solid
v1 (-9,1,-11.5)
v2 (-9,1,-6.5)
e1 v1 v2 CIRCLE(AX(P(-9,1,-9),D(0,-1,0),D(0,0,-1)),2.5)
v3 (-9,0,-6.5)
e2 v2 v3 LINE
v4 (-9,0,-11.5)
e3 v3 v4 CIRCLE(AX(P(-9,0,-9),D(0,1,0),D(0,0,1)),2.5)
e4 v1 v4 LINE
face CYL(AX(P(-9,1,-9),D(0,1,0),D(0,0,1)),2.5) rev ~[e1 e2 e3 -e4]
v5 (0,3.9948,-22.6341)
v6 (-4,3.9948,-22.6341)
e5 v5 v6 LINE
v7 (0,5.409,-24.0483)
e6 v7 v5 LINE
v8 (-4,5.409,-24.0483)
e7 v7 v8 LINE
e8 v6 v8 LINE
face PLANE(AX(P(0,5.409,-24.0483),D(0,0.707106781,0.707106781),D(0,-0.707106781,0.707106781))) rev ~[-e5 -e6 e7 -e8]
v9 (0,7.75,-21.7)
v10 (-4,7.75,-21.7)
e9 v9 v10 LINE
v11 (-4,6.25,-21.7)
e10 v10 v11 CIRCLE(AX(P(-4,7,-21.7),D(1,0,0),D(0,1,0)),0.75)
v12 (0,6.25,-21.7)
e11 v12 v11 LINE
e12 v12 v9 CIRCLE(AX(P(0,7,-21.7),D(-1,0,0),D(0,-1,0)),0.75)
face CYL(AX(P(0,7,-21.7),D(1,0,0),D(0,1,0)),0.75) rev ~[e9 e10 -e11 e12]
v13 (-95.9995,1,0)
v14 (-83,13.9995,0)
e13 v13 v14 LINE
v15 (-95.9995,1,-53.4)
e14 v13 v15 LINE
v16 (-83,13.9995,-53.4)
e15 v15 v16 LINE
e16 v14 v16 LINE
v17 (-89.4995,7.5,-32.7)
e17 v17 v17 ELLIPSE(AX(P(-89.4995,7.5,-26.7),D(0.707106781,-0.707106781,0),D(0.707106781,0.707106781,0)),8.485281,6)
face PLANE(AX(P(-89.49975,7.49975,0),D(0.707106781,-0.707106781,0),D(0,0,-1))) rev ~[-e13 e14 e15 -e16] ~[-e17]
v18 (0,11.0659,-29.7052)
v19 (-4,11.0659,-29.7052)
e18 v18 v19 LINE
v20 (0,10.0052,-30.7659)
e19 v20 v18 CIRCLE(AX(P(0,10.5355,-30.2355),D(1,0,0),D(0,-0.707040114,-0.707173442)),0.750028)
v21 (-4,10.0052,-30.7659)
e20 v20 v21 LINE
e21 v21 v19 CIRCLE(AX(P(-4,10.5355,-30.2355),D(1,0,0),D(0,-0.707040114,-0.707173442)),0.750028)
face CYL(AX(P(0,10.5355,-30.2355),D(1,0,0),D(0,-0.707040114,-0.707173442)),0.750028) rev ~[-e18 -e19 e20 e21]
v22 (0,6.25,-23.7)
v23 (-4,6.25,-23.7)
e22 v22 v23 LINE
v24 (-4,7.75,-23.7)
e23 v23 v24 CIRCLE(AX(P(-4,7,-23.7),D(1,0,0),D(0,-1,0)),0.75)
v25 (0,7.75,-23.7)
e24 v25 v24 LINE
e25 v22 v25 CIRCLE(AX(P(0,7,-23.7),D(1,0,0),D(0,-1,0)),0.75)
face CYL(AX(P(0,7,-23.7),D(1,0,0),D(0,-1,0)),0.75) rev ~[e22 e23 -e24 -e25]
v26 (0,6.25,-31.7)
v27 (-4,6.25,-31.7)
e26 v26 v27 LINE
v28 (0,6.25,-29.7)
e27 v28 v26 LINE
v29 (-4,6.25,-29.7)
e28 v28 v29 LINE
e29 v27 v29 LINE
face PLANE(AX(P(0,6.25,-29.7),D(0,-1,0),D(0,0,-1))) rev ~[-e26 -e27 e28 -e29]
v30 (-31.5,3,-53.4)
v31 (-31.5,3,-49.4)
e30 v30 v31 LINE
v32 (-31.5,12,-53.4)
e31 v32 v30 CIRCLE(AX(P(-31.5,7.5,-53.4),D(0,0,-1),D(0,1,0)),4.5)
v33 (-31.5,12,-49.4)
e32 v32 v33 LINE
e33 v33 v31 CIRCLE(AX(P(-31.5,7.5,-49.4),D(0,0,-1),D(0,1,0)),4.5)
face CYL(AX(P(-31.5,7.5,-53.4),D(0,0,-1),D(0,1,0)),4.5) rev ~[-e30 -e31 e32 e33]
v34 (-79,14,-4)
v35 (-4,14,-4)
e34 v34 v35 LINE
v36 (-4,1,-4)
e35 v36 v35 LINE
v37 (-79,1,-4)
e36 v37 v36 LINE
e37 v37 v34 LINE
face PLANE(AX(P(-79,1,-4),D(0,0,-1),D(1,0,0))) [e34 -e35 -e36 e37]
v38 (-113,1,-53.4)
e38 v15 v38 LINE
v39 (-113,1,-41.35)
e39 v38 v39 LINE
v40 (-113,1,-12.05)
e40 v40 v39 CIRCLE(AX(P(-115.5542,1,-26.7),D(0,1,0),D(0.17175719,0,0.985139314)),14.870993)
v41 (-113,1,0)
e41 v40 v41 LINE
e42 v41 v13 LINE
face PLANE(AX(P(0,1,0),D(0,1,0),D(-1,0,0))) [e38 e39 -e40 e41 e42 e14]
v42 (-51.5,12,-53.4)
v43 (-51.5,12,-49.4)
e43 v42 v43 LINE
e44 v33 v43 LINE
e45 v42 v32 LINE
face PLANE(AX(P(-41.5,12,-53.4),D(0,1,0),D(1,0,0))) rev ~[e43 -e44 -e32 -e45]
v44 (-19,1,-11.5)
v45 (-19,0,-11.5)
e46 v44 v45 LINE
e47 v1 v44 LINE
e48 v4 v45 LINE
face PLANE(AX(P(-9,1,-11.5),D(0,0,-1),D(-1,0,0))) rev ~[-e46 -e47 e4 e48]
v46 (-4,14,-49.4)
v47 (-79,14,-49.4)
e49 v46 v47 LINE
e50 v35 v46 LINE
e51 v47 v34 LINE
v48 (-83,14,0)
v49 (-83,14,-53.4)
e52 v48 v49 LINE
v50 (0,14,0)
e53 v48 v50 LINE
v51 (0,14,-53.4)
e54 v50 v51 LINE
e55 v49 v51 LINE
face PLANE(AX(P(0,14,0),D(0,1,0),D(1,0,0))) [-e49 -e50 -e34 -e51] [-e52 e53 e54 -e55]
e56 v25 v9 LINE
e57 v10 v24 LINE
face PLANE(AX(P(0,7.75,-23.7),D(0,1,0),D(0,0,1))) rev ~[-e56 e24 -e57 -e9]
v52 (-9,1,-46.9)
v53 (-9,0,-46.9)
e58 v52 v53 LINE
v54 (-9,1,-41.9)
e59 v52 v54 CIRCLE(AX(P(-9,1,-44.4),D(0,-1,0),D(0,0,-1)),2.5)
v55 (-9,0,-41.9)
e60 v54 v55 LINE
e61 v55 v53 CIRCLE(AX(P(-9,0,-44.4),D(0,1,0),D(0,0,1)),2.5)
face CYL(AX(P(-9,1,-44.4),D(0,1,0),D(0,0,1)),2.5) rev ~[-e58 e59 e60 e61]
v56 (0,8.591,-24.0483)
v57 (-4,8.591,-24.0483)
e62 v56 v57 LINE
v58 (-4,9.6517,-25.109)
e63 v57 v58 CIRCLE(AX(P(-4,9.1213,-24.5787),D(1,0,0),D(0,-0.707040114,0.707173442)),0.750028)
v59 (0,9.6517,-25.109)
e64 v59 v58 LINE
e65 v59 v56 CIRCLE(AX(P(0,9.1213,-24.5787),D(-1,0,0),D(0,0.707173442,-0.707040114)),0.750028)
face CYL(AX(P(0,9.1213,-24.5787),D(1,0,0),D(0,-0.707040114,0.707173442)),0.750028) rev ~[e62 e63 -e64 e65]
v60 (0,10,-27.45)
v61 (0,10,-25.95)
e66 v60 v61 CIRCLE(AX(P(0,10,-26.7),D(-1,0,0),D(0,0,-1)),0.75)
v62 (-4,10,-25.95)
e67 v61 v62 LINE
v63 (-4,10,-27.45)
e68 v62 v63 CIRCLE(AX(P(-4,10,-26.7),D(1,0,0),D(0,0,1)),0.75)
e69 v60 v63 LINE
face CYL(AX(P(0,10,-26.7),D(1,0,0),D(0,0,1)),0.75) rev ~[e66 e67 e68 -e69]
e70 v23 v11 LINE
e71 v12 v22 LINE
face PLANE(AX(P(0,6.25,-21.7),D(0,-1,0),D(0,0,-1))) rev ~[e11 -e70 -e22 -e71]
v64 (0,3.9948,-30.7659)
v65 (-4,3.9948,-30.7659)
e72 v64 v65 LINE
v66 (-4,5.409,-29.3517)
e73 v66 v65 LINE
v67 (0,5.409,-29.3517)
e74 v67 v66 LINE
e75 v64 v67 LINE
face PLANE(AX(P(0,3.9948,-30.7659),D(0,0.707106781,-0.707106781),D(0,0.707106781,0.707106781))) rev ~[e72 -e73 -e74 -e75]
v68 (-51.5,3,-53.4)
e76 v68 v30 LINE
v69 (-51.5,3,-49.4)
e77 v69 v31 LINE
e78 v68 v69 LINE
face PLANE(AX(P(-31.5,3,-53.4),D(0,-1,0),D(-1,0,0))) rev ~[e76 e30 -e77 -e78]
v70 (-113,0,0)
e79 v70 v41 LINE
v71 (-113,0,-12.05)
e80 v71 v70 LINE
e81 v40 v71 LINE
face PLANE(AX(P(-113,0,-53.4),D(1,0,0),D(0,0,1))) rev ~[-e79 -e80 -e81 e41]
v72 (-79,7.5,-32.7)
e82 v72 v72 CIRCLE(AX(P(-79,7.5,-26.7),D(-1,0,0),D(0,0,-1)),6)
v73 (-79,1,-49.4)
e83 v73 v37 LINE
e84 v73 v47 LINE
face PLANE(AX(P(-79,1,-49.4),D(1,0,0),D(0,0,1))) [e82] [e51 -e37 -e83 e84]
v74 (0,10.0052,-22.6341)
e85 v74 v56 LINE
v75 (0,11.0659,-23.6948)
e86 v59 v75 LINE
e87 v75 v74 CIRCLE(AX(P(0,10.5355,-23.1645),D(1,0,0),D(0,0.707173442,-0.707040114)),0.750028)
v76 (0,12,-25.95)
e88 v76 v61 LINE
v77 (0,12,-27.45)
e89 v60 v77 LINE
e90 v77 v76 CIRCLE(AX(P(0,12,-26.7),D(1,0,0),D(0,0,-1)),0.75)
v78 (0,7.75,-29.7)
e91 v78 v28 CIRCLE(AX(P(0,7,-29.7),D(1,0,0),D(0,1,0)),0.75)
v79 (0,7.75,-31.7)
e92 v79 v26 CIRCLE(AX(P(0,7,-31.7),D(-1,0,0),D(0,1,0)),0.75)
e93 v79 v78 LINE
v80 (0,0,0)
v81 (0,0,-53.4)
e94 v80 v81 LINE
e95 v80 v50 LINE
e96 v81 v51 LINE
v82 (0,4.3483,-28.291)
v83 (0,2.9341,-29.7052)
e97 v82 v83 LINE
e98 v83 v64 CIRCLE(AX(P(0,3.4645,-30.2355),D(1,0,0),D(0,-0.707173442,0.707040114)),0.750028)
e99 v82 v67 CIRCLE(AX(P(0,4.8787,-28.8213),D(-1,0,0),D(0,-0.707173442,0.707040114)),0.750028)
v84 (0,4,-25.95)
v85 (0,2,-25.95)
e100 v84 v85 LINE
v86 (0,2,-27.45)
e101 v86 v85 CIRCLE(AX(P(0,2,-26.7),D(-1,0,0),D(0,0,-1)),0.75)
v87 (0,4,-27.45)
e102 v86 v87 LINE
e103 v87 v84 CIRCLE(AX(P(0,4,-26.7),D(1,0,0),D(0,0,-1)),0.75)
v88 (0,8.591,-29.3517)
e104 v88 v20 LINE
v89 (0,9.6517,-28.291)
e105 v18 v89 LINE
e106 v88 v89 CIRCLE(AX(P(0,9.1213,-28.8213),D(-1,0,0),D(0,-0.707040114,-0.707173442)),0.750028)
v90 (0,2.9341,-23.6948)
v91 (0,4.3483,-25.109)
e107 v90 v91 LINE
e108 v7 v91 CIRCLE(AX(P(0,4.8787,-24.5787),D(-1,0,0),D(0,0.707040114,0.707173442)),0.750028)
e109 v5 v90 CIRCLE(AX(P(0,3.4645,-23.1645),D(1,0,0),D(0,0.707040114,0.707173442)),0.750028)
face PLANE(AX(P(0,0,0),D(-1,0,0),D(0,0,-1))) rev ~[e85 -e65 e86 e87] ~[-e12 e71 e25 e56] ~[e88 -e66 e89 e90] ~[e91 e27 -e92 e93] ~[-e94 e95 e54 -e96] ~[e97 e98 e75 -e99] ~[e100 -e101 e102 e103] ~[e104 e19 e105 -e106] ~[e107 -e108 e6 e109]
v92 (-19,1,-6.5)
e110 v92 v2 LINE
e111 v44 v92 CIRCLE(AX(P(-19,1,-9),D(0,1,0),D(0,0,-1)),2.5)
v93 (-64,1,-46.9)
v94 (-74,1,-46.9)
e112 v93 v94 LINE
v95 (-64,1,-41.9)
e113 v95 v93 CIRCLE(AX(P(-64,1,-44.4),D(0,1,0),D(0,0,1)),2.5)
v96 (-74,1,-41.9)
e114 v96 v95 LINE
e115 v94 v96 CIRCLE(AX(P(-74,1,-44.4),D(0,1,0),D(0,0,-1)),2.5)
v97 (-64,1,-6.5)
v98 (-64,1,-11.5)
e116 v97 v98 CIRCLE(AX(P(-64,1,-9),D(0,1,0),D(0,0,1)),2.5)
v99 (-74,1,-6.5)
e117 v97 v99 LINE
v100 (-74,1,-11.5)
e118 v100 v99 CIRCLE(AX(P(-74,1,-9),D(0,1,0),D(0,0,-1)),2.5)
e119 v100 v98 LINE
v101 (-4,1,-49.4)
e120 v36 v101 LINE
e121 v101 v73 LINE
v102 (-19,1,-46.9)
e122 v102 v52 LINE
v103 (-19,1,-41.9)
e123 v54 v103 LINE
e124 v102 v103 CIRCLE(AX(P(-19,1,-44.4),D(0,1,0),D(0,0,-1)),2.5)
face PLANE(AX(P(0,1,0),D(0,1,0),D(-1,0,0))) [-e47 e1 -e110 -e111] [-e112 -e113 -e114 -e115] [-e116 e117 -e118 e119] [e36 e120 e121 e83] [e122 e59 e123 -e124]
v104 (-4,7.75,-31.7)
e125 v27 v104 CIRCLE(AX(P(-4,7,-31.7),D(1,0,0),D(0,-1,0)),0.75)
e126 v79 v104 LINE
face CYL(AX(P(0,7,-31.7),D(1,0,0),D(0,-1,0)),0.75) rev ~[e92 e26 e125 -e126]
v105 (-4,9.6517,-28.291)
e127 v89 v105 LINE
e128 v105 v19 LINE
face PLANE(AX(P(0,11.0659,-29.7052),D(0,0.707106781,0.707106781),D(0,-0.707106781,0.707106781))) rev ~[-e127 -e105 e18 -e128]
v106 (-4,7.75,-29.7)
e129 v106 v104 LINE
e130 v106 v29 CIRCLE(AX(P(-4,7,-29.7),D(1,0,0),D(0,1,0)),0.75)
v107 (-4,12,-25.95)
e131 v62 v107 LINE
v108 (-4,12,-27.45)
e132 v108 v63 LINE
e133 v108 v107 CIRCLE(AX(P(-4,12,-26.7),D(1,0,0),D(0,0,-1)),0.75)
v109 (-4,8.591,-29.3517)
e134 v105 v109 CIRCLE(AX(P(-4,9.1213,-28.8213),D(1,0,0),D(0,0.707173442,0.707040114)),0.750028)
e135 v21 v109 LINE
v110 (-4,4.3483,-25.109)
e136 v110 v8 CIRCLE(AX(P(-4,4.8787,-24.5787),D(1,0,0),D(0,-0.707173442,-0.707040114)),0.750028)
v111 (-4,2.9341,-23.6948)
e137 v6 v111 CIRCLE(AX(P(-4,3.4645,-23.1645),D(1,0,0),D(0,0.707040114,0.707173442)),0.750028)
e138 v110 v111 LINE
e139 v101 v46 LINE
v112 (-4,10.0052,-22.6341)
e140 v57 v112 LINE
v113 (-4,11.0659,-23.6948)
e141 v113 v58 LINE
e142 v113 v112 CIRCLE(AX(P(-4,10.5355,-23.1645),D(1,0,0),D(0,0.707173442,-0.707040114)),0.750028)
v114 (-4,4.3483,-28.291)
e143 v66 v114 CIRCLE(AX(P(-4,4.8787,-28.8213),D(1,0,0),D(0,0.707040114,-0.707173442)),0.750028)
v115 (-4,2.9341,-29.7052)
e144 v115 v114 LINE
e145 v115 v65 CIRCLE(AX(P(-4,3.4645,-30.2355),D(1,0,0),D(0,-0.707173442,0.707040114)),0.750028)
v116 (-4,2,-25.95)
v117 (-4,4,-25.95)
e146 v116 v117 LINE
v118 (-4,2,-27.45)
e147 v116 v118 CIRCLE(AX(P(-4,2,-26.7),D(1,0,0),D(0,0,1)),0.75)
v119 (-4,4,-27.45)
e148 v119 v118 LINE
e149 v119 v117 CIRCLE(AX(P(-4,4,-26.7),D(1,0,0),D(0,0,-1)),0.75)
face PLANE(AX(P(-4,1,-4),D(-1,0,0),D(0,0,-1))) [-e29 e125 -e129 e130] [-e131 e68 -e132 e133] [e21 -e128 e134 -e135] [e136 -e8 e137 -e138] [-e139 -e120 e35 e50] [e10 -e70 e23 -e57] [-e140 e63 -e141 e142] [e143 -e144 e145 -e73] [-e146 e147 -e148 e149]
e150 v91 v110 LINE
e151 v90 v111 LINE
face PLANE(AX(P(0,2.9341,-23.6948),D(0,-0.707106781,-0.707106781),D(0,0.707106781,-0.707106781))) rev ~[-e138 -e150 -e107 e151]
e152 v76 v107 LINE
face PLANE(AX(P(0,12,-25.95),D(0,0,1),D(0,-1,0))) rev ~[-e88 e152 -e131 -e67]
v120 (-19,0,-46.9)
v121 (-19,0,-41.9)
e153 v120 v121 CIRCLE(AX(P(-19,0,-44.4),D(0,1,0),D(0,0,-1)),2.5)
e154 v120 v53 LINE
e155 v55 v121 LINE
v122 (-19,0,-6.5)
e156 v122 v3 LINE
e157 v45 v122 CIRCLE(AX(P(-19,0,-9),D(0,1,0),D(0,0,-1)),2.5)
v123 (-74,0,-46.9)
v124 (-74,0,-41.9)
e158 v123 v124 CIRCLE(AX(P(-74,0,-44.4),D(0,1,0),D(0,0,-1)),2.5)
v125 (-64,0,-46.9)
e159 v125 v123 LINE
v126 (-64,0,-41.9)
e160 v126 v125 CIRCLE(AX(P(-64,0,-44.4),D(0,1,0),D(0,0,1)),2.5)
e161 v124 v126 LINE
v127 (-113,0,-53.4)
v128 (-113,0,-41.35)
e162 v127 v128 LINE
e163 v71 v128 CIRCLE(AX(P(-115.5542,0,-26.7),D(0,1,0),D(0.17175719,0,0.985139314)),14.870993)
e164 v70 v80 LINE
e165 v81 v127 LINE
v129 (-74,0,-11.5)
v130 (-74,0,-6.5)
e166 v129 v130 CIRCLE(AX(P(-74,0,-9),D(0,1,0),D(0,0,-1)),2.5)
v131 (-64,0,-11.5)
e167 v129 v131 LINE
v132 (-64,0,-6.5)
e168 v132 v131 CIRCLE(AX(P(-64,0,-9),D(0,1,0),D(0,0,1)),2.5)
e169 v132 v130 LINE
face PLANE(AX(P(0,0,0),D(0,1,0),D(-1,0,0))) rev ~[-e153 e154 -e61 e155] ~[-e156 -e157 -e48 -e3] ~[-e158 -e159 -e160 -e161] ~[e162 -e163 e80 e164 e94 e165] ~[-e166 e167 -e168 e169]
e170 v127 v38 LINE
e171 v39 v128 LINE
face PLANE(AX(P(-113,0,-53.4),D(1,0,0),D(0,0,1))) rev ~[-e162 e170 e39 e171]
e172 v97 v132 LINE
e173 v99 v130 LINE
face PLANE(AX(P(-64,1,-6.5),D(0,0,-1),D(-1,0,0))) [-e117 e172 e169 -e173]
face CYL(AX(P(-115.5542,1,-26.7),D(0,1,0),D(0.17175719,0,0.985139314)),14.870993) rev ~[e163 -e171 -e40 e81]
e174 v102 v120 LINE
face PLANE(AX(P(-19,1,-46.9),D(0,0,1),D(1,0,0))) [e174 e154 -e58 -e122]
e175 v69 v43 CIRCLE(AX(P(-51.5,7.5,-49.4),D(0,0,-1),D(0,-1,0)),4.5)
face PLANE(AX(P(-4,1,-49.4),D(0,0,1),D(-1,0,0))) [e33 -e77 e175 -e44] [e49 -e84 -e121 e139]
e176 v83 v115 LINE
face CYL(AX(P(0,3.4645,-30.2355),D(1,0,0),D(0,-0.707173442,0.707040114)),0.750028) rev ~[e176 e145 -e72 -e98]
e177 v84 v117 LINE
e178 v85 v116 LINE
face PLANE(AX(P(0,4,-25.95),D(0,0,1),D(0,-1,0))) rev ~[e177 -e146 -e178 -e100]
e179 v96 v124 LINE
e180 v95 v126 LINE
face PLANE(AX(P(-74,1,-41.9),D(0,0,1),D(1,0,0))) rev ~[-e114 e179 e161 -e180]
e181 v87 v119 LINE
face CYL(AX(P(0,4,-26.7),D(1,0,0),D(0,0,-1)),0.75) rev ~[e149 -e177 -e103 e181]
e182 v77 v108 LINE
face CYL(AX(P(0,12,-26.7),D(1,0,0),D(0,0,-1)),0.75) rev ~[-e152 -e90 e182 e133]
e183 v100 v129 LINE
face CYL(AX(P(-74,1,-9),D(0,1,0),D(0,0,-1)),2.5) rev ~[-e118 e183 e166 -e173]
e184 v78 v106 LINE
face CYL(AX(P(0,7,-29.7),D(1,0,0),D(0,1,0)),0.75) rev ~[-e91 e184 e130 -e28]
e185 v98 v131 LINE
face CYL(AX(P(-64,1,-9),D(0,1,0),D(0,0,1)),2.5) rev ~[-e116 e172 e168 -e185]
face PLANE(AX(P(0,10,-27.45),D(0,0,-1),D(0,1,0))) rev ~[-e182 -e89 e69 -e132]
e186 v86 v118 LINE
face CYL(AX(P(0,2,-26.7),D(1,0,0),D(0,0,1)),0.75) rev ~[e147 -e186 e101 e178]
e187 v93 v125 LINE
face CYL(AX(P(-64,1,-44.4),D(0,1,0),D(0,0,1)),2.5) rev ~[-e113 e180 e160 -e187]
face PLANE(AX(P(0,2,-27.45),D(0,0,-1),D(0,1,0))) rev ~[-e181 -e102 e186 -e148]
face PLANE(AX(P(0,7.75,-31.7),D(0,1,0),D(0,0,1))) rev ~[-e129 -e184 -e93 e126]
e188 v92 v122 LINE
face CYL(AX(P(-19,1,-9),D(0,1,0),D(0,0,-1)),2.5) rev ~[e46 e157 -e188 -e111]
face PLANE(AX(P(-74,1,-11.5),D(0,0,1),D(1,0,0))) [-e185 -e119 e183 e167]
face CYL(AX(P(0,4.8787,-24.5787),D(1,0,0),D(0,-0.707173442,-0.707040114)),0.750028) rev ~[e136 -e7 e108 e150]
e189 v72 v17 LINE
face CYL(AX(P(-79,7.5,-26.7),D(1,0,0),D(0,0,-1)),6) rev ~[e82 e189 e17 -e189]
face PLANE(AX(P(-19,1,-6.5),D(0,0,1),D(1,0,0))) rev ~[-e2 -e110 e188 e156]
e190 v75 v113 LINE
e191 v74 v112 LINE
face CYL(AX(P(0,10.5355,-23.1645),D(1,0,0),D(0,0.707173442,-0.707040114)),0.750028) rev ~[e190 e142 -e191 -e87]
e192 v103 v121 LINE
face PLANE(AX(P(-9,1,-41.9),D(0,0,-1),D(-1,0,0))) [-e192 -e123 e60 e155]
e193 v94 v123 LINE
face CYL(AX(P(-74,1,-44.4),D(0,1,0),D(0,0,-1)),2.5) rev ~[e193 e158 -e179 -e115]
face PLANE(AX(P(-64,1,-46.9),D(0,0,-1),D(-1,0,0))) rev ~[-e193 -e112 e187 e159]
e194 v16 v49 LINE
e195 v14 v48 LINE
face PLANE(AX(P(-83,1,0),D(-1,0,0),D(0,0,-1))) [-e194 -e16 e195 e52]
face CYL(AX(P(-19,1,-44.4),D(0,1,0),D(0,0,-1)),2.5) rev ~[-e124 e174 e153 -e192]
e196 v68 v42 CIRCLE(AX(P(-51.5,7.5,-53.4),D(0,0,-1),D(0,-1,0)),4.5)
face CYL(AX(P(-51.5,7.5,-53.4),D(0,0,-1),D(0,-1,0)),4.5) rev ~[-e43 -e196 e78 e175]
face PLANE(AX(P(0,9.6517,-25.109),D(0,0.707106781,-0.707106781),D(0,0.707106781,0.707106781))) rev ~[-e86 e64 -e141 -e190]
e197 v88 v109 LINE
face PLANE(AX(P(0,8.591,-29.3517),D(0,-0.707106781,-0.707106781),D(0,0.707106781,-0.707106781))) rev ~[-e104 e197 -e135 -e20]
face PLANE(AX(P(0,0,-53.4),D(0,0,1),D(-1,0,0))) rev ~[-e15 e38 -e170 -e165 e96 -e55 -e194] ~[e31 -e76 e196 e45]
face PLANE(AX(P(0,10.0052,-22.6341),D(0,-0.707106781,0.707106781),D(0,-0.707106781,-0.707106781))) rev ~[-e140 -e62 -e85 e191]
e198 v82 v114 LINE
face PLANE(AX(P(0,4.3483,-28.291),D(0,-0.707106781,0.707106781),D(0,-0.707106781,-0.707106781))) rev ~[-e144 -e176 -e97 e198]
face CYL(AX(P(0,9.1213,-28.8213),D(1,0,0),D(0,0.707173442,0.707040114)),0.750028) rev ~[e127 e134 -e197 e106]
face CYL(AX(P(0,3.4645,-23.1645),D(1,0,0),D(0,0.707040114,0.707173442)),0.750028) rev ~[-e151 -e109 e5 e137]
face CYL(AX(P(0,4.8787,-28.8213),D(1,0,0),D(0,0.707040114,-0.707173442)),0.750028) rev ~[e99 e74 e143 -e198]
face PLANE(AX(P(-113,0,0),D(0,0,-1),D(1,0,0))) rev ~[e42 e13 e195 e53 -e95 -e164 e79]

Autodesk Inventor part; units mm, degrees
ref_plane "YZ Plane" through (0, 0, 0) normal (1, 0, 0) x (0, 1, 0)
ref_plane "XZ Plane" through (0, 0, 0) normal (0, 1, 0) x (-1, 0, 0)
ref_plane "XY Plane" through (0, 0, 0) normal (0, 0, 1) x (1, 0, 0)
sketch "Szkic1" plane through (0, 0, 0) normal (0, 1, 0) x (-1, 0, 0)
  line L0 (0, 0) -> (0, -53.4)
  line L1 (0, -53.4) -> (113, -53.4)
  line L2 (0, -53.4) -> (113, -53.4) construction
  line L3 (0, -53.4) -> (113, -53.4)
  line L4 (113, -53.4) -> (113, 0)
  line L5 (113, 0) -> (0, 0)
  line L6 (0, 0) -> (0, -53.4)
  dimension "d0" = 53.4
  dimension "d1" = 113
  dimension "d2" = 0
extrude "Wyciągnięcie proste1" add sketch "Szkic1" along normal blind 1
sketch "Szkic2" plane through (0, 1, 0) normal (0, 1, 0) x (1, 0, 0)
  line L0 (-113, 53.4) -> (-113, 0) projected
  line L1 (-113, 0) -> (-83, 0)
  line L2 (-113, 0) -> (0, 0) projected
  line L3 (-83, 0) -> (-83, 53.4)
  line L4 (0, 53.4) -> (-113, 53.4) projected
  line L5 (-83, 0) -> (0, 0)
  line L6 (0, 0) -> (0, 53.4)
  line L7 (0, 53.4) -> (-83, 53.4)
  line L8 (-83, 53.4) -> (-83, 0)
  line L9 (-83, 0) -> (-79, 0)
  line L10 (-79, 0) -> (-79, 4)
  line L11 (0, 53.4) -> (-4, 53.4)
  line L12 (-4, 53.4) -> (-4, 49.4)
  line L13 (-79, 4) -> (-4, 4)
  line L14 (-4, 4) -> (-4, 49.4)
  line L15 (-4, 49.4) -> (-79, 49.4)
  line L16 (-79, 49.4) -> (-79, 4)
  dimension "d5" = 30
  dimension "d6" = 4
  dimension "d7" = 4
  dimension "d8" = 4
  dimension "d9" = 4
extrude "Wyciągnięcie proste2" add sketch "Szkic2" along normal blind 13 contours L4 L12 L15 L16 L10 L2 L3 | L4 L6 L2 L10 L13 L14 L12
sketch "Szkic3" plane through (0, 1, 0) normal (0, 1, 0) x (1, 0, 0)
  line L0 (-113, 53.4) -> (-113, 0) projected
  line L1 (-113, 26.7) -> (-113, 12.05)
  line L2 (-113, 26.7) -> (-113, 41.35)
  arc A0 (-113, 12.05) -> (-113, 41.35) centre (-115.5542, 26.7) ccw
  point P0 (0, 0)
  dimension "d12" = 14.65
  dimension "d13" = 14.65
  dimension "d14" = 14.871
extrude "Wyciągnięcie proste3" cut sketch "Szkic3" against normal blind 13
chamfer "Faza1" distance 13 angle 45 1 edges at (-83, 1, -26.7)
sketch "Szkic4" plane through (-79, 1, -4) normal (1, 0, 0) x (0, 0, -1)
  line L0 (45.4, 0) -> (0, 0) projected
  line L1 (22.7, 0) -> (22.7, 13)
  line L2 (0, 13) -> (45.4, 13) projected
  circle A0 centre (22.7, 6.5) radius 6
  point P0 (-4, -1)
  dimension "d20" = 12
extrude "Wyciągnięcie proste4" cut sketch "Szkic4" against normal through all
sketch "Szkic5" plane through (0, 0, 0) normal (1, 0, 0) x (0, 0, -1)
  line L0 (0, 0) -> (0, 14) projected
  line L1 (0, 7) -> (53.4, 7)
  line L2 (53.4, 0) -> (53.4, 14) projected
  line L3 (4, 14) -> (49.4, 14) projected
  line L4 (26.7, 14) -> (26.7, 0)
  line L5 (0, 0) -> (53.4, 0) projected
  circle A0 centre (26.7, 7) radius 2
  line L6 (26.7, 9) -> (26.7, 10)
  line L7 (26.7, 10) -> (26.7, 12) construction
  line L8 (27.45, 10) -> (27.45, 12)
  line L9 (25.95, 12) -> (25.95, 10)
  arc A1 (25.95, 10) -> (27.45, 10) centre (26.7, 10) ccw
  arc A2 (27.45, 12) -> (25.95, 12) centre (26.7, 12) ccw
  line L10 (28.1142, 8.4142) -> (28.8213, 9.1213)
  line L11 (28.8213, 9.1213) -> (30.2355, 10.5355) construction
  line L12 (29.7052, 11.0659) -> (28.291, 9.6517)
  arc A3 (28.291, 9.6517) -> (29.3517, 8.591) centre (28.8213, 9.1213) ccw
  arc A4 (30.7659, 10.0052) -> (29.7052, 11.0659) centre (30.2355, 10.5355) ccw
  line L13 (29.3517, 8.591) -> (30.7659, 10.0052)
  line L14 (28.7, 7) -> (29.7, 7)
  line L15 (29.7, 7) -> (31.7, 7) construction
  line L16 (31.7, 7.75) -> (29.7, 7.75)
  arc A5 (29.7, 7.75) -> (29.7, 6.25) centre (29.7, 7) ccw
  arc A6 (31.7, 6.25) -> (31.7, 7.75) centre (31.7, 7) ccw
  line L17 (29.7, 6.25) -> (31.7, 6.25)
  line L18 (28.1142, 5.5858) -> (28.8213, 4.8787)
  line L19 (28.8213, 4.8787) -> (30.2355, 3.4645) construction
  line L20 (30.7659, 3.9948) -> (29.3517, 5.409)
  arc A7 (29.3517, 5.409) -> (28.291, 4.3483) centre (28.8213, 4.8787) ccw
  arc A8 (29.7052, 2.9341) -> (30.7659, 3.9948) centre (30.2355, 3.4645) ccw
  line L21 (28.291, 4.3483) -> (29.7052, 2.9341)
  line L22 (26.7, 5) -> (26.7, 4)
  line L23 (26.7, 4) -> (26.7, 2) construction
  line L24 (27.45, 2) -> (27.45, 4)
  arc A9 (27.45, 4) -> (25.95, 4) centre (26.7, 4) ccw
  arc A10 (25.95, 2) -> (27.45, 2) centre (26.7, 2) ccw
  line L25 (25.95, 4) -> (25.95, 2)
  line L26 (25.2858, 5.5858) -> (24.5787, 4.8787)
  line L27 (24.5787, 4.8787) -> (23.1645, 3.4645) construction
  line L28 (23.6948, 2.9341) -> (25.109, 4.3483)
  arc A11 (25.109, 4.3483) -> (24.0483, 5.409) centre (24.5787, 4.8787) ccw
  arc A12 (22.6341, 3.9948) -> (23.6948, 2.9341) centre (23.1645, 3.4645) ccw
  line L29 (24.0483, 5.409) -> (22.6341, 3.9948)
  line L30 (24.7, 7) -> (23.7, 7)
  line L31 (23.7, 7) -> (21.7, 7) construction
  line L32 (21.7, 6.25) -> (23.7, 6.25)
  arc A13 (23.7, 6.25) -> (23.7, 7.75) centre (23.7, 7) ccw
  arc A14 (21.7, 7.75) -> (21.7, 6.25) centre (21.7, 7) ccw
  line L33 (23.7, 7.75) -> (21.7, 7.75)
  line L34 (25.2858, 8.4142) -> (24.5787, 9.1213)
  line L35 (24.5787, 9.1213) -> (23.1645, 10.5355) construction
  line L36 (22.6341, 10.0052) -> (24.0483, 8.591)
  arc A15 (24.0483, 8.591) -> (25.109, 9.6517) centre (24.5787, 9.1213) ccw
  arc A16 (23.6948, 11.0659) -> (22.6341, 10.0052) centre (23.1645, 10.5355) ccw
  line L37 (25.109, 9.6517) -> (23.6948, 11.0659)
  point P0 (26.7, 11)
  point P1 (29.5284, 9.8284)
  point P2 (30.7, 7)
  point P3 (29.5284, 4.1716)
  point P4 (26.7, 3)
  point P5 (23.8716, 4.1716)
  point P6 (22.7, 7)
  point P7 (23.8716, 9.8284)
  dimension "d23" = 4
  dimension "d24" = 1
  dimension "d25" = 2
  dimension "d26" = 1.5
  dimension "d29" = 360
extrude "Wyciągnięcie proste5" cut sketch "Szkic5" against normal blind 10 contours A15 L36 A16 L37 | A1 L9 A2 L4 | L4 A2 L8 A1 | A3 L12 A4 L13 | A11 L28 A12 L29 | A7 L20 A8 L21 | A14 L33 A13 L1 | L1 A13 L32 A14 | A10 L25 A9 L4 | L4 A9 L24 A10 | A6 L17 A5 L1 | L1 A5 L16 A6
sketch "Szkic6" plane through (0, 1, 0) normal (0, 1, 0) x (1, 0, 0)
  line L0 (-4, 4) -> (-4, 49.4) projected
  line L1 (-4, 4) -> (-4, 9)
  line L2 (-4, 9) -> (-9, 9)
  line L3 (-9, 9) -> (-19, 9) construction
  line L4 (-9, 11.5) -> (-19, 11.5)
  line L5 (-19, 6.5) -> (-9, 6.5)
  arc A0 (-9, 6.5) -> (-9, 11.5) centre (-9, 9) ccw
  arc A1 (-19, 11.5) -> (-19, 6.5) centre (-19, 9) ccw
  line L6 (-4, 26.7) -> (-79, 26.7)
  line L7 (-79, 49.4) -> (-79, 4) projected
  line L8 (-79, 4) -> (-4, 4) projected
  line L9 (-41.5, 4) -> (-41.5, 49.4)
  line L10 (-4, 49.4) -> (-79, 49.4) projected
  line L11 (-74, 9) -> (-64, 9) construction
  line L12 (-74, 11.5) -> (-64, 11.5)
  line L13 (-64, 6.5) -> (-74, 6.5)
  arc A2 (-74, 11.5) -> (-74, 6.5) centre (-74, 9) ccw
  arc A3 (-64, 6.5) -> (-64, 11.5) centre (-64, 9) ccw
  line L14 (-4, 44.4) -> (-9, 44.4)
  line L15 (-9, 44.4) -> (-19, 44.4) construction
  line L16 (-9, 41.9) -> (-19, 41.9)
  line L17 (-19, 46.9) -> (-9, 46.9)
  arc A4 (-9, 41.9) -> (-9, 46.9) centre (-9, 44.4) ccw
  arc A5 (-19, 46.9) -> (-19, 41.9) centre (-19, 44.4) ccw
  line L18 (-41.5, 49.4) -> (-41.5, 4)
  arc A6 (-74, 46.9) -> (-74, 41.9) centre (-74, 44.4) ccw
  line L19 (-74, 44.4) -> (-64, 44.4) construction
  line L20 (-64, 46.9) -> (-74, 46.9)
  line L21 (-74, 41.9) -> (-64, 41.9)
  arc A7 (-64, 41.9) -> (-64, 46.9) centre (-64, 44.4) ccw
  point P0 (0, 0)
  point P1 (-14, 9)
  point P2 (-69, 9)
  point P3 (-14, 44.4)
  point P4 (-69, 44.4)
  dimension "d33" = 5
  dimension "d34" = 5
  dimension "d35" = 10
  dimension "d36" = 5
extrude "Wyciągnięcie proste6" cut sketch "Szkic6" against normal blind 10 contours A0 L5 A1 L4 | A4 L16 A5 L17 | L12 A3 L13 A2 | L20 A7 L21 A6
sketch "Szkic7" plane through (0, 0, -53.4) normal (0, 0, -1) x (-1, 0, 0)
  line L0 (79, 1) -> (4, 1) projected
  line L1 (41.5, 1) -> (41.5, 14)
  line L2 (4, 14) -> (79, 14) projected
  line L3 (79, 1.5) -> (79, 13.5) projected
  line L4 (79, 7.5) -> (41.5, 7.5)
  line L5 (41.5, 7.5) -> (31.5, 7.5)
  line L6 (31.5, 7.5) -> (51.5, 7.5) construction
  line L7 (31.5, 3) -> (51.5, 3)
  line L8 (51.5, 12) -> (31.5, 12)
  arc A0 (31.5, 12) -> (31.5, 3) centre (31.5, 7.5) ccw
  arc A1 (51.5, 3) -> (51.5, 12) centre (51.5, 7.5) ccw
  point P0 (0, 0)
  dimension "d39" = 10
  dimension "d40" = 20
  dimension "d41" = 9
extrude "Wyciągnięcie proste7" cut sketch "Szkic7" against normal blind 10
properties part number "klp"
